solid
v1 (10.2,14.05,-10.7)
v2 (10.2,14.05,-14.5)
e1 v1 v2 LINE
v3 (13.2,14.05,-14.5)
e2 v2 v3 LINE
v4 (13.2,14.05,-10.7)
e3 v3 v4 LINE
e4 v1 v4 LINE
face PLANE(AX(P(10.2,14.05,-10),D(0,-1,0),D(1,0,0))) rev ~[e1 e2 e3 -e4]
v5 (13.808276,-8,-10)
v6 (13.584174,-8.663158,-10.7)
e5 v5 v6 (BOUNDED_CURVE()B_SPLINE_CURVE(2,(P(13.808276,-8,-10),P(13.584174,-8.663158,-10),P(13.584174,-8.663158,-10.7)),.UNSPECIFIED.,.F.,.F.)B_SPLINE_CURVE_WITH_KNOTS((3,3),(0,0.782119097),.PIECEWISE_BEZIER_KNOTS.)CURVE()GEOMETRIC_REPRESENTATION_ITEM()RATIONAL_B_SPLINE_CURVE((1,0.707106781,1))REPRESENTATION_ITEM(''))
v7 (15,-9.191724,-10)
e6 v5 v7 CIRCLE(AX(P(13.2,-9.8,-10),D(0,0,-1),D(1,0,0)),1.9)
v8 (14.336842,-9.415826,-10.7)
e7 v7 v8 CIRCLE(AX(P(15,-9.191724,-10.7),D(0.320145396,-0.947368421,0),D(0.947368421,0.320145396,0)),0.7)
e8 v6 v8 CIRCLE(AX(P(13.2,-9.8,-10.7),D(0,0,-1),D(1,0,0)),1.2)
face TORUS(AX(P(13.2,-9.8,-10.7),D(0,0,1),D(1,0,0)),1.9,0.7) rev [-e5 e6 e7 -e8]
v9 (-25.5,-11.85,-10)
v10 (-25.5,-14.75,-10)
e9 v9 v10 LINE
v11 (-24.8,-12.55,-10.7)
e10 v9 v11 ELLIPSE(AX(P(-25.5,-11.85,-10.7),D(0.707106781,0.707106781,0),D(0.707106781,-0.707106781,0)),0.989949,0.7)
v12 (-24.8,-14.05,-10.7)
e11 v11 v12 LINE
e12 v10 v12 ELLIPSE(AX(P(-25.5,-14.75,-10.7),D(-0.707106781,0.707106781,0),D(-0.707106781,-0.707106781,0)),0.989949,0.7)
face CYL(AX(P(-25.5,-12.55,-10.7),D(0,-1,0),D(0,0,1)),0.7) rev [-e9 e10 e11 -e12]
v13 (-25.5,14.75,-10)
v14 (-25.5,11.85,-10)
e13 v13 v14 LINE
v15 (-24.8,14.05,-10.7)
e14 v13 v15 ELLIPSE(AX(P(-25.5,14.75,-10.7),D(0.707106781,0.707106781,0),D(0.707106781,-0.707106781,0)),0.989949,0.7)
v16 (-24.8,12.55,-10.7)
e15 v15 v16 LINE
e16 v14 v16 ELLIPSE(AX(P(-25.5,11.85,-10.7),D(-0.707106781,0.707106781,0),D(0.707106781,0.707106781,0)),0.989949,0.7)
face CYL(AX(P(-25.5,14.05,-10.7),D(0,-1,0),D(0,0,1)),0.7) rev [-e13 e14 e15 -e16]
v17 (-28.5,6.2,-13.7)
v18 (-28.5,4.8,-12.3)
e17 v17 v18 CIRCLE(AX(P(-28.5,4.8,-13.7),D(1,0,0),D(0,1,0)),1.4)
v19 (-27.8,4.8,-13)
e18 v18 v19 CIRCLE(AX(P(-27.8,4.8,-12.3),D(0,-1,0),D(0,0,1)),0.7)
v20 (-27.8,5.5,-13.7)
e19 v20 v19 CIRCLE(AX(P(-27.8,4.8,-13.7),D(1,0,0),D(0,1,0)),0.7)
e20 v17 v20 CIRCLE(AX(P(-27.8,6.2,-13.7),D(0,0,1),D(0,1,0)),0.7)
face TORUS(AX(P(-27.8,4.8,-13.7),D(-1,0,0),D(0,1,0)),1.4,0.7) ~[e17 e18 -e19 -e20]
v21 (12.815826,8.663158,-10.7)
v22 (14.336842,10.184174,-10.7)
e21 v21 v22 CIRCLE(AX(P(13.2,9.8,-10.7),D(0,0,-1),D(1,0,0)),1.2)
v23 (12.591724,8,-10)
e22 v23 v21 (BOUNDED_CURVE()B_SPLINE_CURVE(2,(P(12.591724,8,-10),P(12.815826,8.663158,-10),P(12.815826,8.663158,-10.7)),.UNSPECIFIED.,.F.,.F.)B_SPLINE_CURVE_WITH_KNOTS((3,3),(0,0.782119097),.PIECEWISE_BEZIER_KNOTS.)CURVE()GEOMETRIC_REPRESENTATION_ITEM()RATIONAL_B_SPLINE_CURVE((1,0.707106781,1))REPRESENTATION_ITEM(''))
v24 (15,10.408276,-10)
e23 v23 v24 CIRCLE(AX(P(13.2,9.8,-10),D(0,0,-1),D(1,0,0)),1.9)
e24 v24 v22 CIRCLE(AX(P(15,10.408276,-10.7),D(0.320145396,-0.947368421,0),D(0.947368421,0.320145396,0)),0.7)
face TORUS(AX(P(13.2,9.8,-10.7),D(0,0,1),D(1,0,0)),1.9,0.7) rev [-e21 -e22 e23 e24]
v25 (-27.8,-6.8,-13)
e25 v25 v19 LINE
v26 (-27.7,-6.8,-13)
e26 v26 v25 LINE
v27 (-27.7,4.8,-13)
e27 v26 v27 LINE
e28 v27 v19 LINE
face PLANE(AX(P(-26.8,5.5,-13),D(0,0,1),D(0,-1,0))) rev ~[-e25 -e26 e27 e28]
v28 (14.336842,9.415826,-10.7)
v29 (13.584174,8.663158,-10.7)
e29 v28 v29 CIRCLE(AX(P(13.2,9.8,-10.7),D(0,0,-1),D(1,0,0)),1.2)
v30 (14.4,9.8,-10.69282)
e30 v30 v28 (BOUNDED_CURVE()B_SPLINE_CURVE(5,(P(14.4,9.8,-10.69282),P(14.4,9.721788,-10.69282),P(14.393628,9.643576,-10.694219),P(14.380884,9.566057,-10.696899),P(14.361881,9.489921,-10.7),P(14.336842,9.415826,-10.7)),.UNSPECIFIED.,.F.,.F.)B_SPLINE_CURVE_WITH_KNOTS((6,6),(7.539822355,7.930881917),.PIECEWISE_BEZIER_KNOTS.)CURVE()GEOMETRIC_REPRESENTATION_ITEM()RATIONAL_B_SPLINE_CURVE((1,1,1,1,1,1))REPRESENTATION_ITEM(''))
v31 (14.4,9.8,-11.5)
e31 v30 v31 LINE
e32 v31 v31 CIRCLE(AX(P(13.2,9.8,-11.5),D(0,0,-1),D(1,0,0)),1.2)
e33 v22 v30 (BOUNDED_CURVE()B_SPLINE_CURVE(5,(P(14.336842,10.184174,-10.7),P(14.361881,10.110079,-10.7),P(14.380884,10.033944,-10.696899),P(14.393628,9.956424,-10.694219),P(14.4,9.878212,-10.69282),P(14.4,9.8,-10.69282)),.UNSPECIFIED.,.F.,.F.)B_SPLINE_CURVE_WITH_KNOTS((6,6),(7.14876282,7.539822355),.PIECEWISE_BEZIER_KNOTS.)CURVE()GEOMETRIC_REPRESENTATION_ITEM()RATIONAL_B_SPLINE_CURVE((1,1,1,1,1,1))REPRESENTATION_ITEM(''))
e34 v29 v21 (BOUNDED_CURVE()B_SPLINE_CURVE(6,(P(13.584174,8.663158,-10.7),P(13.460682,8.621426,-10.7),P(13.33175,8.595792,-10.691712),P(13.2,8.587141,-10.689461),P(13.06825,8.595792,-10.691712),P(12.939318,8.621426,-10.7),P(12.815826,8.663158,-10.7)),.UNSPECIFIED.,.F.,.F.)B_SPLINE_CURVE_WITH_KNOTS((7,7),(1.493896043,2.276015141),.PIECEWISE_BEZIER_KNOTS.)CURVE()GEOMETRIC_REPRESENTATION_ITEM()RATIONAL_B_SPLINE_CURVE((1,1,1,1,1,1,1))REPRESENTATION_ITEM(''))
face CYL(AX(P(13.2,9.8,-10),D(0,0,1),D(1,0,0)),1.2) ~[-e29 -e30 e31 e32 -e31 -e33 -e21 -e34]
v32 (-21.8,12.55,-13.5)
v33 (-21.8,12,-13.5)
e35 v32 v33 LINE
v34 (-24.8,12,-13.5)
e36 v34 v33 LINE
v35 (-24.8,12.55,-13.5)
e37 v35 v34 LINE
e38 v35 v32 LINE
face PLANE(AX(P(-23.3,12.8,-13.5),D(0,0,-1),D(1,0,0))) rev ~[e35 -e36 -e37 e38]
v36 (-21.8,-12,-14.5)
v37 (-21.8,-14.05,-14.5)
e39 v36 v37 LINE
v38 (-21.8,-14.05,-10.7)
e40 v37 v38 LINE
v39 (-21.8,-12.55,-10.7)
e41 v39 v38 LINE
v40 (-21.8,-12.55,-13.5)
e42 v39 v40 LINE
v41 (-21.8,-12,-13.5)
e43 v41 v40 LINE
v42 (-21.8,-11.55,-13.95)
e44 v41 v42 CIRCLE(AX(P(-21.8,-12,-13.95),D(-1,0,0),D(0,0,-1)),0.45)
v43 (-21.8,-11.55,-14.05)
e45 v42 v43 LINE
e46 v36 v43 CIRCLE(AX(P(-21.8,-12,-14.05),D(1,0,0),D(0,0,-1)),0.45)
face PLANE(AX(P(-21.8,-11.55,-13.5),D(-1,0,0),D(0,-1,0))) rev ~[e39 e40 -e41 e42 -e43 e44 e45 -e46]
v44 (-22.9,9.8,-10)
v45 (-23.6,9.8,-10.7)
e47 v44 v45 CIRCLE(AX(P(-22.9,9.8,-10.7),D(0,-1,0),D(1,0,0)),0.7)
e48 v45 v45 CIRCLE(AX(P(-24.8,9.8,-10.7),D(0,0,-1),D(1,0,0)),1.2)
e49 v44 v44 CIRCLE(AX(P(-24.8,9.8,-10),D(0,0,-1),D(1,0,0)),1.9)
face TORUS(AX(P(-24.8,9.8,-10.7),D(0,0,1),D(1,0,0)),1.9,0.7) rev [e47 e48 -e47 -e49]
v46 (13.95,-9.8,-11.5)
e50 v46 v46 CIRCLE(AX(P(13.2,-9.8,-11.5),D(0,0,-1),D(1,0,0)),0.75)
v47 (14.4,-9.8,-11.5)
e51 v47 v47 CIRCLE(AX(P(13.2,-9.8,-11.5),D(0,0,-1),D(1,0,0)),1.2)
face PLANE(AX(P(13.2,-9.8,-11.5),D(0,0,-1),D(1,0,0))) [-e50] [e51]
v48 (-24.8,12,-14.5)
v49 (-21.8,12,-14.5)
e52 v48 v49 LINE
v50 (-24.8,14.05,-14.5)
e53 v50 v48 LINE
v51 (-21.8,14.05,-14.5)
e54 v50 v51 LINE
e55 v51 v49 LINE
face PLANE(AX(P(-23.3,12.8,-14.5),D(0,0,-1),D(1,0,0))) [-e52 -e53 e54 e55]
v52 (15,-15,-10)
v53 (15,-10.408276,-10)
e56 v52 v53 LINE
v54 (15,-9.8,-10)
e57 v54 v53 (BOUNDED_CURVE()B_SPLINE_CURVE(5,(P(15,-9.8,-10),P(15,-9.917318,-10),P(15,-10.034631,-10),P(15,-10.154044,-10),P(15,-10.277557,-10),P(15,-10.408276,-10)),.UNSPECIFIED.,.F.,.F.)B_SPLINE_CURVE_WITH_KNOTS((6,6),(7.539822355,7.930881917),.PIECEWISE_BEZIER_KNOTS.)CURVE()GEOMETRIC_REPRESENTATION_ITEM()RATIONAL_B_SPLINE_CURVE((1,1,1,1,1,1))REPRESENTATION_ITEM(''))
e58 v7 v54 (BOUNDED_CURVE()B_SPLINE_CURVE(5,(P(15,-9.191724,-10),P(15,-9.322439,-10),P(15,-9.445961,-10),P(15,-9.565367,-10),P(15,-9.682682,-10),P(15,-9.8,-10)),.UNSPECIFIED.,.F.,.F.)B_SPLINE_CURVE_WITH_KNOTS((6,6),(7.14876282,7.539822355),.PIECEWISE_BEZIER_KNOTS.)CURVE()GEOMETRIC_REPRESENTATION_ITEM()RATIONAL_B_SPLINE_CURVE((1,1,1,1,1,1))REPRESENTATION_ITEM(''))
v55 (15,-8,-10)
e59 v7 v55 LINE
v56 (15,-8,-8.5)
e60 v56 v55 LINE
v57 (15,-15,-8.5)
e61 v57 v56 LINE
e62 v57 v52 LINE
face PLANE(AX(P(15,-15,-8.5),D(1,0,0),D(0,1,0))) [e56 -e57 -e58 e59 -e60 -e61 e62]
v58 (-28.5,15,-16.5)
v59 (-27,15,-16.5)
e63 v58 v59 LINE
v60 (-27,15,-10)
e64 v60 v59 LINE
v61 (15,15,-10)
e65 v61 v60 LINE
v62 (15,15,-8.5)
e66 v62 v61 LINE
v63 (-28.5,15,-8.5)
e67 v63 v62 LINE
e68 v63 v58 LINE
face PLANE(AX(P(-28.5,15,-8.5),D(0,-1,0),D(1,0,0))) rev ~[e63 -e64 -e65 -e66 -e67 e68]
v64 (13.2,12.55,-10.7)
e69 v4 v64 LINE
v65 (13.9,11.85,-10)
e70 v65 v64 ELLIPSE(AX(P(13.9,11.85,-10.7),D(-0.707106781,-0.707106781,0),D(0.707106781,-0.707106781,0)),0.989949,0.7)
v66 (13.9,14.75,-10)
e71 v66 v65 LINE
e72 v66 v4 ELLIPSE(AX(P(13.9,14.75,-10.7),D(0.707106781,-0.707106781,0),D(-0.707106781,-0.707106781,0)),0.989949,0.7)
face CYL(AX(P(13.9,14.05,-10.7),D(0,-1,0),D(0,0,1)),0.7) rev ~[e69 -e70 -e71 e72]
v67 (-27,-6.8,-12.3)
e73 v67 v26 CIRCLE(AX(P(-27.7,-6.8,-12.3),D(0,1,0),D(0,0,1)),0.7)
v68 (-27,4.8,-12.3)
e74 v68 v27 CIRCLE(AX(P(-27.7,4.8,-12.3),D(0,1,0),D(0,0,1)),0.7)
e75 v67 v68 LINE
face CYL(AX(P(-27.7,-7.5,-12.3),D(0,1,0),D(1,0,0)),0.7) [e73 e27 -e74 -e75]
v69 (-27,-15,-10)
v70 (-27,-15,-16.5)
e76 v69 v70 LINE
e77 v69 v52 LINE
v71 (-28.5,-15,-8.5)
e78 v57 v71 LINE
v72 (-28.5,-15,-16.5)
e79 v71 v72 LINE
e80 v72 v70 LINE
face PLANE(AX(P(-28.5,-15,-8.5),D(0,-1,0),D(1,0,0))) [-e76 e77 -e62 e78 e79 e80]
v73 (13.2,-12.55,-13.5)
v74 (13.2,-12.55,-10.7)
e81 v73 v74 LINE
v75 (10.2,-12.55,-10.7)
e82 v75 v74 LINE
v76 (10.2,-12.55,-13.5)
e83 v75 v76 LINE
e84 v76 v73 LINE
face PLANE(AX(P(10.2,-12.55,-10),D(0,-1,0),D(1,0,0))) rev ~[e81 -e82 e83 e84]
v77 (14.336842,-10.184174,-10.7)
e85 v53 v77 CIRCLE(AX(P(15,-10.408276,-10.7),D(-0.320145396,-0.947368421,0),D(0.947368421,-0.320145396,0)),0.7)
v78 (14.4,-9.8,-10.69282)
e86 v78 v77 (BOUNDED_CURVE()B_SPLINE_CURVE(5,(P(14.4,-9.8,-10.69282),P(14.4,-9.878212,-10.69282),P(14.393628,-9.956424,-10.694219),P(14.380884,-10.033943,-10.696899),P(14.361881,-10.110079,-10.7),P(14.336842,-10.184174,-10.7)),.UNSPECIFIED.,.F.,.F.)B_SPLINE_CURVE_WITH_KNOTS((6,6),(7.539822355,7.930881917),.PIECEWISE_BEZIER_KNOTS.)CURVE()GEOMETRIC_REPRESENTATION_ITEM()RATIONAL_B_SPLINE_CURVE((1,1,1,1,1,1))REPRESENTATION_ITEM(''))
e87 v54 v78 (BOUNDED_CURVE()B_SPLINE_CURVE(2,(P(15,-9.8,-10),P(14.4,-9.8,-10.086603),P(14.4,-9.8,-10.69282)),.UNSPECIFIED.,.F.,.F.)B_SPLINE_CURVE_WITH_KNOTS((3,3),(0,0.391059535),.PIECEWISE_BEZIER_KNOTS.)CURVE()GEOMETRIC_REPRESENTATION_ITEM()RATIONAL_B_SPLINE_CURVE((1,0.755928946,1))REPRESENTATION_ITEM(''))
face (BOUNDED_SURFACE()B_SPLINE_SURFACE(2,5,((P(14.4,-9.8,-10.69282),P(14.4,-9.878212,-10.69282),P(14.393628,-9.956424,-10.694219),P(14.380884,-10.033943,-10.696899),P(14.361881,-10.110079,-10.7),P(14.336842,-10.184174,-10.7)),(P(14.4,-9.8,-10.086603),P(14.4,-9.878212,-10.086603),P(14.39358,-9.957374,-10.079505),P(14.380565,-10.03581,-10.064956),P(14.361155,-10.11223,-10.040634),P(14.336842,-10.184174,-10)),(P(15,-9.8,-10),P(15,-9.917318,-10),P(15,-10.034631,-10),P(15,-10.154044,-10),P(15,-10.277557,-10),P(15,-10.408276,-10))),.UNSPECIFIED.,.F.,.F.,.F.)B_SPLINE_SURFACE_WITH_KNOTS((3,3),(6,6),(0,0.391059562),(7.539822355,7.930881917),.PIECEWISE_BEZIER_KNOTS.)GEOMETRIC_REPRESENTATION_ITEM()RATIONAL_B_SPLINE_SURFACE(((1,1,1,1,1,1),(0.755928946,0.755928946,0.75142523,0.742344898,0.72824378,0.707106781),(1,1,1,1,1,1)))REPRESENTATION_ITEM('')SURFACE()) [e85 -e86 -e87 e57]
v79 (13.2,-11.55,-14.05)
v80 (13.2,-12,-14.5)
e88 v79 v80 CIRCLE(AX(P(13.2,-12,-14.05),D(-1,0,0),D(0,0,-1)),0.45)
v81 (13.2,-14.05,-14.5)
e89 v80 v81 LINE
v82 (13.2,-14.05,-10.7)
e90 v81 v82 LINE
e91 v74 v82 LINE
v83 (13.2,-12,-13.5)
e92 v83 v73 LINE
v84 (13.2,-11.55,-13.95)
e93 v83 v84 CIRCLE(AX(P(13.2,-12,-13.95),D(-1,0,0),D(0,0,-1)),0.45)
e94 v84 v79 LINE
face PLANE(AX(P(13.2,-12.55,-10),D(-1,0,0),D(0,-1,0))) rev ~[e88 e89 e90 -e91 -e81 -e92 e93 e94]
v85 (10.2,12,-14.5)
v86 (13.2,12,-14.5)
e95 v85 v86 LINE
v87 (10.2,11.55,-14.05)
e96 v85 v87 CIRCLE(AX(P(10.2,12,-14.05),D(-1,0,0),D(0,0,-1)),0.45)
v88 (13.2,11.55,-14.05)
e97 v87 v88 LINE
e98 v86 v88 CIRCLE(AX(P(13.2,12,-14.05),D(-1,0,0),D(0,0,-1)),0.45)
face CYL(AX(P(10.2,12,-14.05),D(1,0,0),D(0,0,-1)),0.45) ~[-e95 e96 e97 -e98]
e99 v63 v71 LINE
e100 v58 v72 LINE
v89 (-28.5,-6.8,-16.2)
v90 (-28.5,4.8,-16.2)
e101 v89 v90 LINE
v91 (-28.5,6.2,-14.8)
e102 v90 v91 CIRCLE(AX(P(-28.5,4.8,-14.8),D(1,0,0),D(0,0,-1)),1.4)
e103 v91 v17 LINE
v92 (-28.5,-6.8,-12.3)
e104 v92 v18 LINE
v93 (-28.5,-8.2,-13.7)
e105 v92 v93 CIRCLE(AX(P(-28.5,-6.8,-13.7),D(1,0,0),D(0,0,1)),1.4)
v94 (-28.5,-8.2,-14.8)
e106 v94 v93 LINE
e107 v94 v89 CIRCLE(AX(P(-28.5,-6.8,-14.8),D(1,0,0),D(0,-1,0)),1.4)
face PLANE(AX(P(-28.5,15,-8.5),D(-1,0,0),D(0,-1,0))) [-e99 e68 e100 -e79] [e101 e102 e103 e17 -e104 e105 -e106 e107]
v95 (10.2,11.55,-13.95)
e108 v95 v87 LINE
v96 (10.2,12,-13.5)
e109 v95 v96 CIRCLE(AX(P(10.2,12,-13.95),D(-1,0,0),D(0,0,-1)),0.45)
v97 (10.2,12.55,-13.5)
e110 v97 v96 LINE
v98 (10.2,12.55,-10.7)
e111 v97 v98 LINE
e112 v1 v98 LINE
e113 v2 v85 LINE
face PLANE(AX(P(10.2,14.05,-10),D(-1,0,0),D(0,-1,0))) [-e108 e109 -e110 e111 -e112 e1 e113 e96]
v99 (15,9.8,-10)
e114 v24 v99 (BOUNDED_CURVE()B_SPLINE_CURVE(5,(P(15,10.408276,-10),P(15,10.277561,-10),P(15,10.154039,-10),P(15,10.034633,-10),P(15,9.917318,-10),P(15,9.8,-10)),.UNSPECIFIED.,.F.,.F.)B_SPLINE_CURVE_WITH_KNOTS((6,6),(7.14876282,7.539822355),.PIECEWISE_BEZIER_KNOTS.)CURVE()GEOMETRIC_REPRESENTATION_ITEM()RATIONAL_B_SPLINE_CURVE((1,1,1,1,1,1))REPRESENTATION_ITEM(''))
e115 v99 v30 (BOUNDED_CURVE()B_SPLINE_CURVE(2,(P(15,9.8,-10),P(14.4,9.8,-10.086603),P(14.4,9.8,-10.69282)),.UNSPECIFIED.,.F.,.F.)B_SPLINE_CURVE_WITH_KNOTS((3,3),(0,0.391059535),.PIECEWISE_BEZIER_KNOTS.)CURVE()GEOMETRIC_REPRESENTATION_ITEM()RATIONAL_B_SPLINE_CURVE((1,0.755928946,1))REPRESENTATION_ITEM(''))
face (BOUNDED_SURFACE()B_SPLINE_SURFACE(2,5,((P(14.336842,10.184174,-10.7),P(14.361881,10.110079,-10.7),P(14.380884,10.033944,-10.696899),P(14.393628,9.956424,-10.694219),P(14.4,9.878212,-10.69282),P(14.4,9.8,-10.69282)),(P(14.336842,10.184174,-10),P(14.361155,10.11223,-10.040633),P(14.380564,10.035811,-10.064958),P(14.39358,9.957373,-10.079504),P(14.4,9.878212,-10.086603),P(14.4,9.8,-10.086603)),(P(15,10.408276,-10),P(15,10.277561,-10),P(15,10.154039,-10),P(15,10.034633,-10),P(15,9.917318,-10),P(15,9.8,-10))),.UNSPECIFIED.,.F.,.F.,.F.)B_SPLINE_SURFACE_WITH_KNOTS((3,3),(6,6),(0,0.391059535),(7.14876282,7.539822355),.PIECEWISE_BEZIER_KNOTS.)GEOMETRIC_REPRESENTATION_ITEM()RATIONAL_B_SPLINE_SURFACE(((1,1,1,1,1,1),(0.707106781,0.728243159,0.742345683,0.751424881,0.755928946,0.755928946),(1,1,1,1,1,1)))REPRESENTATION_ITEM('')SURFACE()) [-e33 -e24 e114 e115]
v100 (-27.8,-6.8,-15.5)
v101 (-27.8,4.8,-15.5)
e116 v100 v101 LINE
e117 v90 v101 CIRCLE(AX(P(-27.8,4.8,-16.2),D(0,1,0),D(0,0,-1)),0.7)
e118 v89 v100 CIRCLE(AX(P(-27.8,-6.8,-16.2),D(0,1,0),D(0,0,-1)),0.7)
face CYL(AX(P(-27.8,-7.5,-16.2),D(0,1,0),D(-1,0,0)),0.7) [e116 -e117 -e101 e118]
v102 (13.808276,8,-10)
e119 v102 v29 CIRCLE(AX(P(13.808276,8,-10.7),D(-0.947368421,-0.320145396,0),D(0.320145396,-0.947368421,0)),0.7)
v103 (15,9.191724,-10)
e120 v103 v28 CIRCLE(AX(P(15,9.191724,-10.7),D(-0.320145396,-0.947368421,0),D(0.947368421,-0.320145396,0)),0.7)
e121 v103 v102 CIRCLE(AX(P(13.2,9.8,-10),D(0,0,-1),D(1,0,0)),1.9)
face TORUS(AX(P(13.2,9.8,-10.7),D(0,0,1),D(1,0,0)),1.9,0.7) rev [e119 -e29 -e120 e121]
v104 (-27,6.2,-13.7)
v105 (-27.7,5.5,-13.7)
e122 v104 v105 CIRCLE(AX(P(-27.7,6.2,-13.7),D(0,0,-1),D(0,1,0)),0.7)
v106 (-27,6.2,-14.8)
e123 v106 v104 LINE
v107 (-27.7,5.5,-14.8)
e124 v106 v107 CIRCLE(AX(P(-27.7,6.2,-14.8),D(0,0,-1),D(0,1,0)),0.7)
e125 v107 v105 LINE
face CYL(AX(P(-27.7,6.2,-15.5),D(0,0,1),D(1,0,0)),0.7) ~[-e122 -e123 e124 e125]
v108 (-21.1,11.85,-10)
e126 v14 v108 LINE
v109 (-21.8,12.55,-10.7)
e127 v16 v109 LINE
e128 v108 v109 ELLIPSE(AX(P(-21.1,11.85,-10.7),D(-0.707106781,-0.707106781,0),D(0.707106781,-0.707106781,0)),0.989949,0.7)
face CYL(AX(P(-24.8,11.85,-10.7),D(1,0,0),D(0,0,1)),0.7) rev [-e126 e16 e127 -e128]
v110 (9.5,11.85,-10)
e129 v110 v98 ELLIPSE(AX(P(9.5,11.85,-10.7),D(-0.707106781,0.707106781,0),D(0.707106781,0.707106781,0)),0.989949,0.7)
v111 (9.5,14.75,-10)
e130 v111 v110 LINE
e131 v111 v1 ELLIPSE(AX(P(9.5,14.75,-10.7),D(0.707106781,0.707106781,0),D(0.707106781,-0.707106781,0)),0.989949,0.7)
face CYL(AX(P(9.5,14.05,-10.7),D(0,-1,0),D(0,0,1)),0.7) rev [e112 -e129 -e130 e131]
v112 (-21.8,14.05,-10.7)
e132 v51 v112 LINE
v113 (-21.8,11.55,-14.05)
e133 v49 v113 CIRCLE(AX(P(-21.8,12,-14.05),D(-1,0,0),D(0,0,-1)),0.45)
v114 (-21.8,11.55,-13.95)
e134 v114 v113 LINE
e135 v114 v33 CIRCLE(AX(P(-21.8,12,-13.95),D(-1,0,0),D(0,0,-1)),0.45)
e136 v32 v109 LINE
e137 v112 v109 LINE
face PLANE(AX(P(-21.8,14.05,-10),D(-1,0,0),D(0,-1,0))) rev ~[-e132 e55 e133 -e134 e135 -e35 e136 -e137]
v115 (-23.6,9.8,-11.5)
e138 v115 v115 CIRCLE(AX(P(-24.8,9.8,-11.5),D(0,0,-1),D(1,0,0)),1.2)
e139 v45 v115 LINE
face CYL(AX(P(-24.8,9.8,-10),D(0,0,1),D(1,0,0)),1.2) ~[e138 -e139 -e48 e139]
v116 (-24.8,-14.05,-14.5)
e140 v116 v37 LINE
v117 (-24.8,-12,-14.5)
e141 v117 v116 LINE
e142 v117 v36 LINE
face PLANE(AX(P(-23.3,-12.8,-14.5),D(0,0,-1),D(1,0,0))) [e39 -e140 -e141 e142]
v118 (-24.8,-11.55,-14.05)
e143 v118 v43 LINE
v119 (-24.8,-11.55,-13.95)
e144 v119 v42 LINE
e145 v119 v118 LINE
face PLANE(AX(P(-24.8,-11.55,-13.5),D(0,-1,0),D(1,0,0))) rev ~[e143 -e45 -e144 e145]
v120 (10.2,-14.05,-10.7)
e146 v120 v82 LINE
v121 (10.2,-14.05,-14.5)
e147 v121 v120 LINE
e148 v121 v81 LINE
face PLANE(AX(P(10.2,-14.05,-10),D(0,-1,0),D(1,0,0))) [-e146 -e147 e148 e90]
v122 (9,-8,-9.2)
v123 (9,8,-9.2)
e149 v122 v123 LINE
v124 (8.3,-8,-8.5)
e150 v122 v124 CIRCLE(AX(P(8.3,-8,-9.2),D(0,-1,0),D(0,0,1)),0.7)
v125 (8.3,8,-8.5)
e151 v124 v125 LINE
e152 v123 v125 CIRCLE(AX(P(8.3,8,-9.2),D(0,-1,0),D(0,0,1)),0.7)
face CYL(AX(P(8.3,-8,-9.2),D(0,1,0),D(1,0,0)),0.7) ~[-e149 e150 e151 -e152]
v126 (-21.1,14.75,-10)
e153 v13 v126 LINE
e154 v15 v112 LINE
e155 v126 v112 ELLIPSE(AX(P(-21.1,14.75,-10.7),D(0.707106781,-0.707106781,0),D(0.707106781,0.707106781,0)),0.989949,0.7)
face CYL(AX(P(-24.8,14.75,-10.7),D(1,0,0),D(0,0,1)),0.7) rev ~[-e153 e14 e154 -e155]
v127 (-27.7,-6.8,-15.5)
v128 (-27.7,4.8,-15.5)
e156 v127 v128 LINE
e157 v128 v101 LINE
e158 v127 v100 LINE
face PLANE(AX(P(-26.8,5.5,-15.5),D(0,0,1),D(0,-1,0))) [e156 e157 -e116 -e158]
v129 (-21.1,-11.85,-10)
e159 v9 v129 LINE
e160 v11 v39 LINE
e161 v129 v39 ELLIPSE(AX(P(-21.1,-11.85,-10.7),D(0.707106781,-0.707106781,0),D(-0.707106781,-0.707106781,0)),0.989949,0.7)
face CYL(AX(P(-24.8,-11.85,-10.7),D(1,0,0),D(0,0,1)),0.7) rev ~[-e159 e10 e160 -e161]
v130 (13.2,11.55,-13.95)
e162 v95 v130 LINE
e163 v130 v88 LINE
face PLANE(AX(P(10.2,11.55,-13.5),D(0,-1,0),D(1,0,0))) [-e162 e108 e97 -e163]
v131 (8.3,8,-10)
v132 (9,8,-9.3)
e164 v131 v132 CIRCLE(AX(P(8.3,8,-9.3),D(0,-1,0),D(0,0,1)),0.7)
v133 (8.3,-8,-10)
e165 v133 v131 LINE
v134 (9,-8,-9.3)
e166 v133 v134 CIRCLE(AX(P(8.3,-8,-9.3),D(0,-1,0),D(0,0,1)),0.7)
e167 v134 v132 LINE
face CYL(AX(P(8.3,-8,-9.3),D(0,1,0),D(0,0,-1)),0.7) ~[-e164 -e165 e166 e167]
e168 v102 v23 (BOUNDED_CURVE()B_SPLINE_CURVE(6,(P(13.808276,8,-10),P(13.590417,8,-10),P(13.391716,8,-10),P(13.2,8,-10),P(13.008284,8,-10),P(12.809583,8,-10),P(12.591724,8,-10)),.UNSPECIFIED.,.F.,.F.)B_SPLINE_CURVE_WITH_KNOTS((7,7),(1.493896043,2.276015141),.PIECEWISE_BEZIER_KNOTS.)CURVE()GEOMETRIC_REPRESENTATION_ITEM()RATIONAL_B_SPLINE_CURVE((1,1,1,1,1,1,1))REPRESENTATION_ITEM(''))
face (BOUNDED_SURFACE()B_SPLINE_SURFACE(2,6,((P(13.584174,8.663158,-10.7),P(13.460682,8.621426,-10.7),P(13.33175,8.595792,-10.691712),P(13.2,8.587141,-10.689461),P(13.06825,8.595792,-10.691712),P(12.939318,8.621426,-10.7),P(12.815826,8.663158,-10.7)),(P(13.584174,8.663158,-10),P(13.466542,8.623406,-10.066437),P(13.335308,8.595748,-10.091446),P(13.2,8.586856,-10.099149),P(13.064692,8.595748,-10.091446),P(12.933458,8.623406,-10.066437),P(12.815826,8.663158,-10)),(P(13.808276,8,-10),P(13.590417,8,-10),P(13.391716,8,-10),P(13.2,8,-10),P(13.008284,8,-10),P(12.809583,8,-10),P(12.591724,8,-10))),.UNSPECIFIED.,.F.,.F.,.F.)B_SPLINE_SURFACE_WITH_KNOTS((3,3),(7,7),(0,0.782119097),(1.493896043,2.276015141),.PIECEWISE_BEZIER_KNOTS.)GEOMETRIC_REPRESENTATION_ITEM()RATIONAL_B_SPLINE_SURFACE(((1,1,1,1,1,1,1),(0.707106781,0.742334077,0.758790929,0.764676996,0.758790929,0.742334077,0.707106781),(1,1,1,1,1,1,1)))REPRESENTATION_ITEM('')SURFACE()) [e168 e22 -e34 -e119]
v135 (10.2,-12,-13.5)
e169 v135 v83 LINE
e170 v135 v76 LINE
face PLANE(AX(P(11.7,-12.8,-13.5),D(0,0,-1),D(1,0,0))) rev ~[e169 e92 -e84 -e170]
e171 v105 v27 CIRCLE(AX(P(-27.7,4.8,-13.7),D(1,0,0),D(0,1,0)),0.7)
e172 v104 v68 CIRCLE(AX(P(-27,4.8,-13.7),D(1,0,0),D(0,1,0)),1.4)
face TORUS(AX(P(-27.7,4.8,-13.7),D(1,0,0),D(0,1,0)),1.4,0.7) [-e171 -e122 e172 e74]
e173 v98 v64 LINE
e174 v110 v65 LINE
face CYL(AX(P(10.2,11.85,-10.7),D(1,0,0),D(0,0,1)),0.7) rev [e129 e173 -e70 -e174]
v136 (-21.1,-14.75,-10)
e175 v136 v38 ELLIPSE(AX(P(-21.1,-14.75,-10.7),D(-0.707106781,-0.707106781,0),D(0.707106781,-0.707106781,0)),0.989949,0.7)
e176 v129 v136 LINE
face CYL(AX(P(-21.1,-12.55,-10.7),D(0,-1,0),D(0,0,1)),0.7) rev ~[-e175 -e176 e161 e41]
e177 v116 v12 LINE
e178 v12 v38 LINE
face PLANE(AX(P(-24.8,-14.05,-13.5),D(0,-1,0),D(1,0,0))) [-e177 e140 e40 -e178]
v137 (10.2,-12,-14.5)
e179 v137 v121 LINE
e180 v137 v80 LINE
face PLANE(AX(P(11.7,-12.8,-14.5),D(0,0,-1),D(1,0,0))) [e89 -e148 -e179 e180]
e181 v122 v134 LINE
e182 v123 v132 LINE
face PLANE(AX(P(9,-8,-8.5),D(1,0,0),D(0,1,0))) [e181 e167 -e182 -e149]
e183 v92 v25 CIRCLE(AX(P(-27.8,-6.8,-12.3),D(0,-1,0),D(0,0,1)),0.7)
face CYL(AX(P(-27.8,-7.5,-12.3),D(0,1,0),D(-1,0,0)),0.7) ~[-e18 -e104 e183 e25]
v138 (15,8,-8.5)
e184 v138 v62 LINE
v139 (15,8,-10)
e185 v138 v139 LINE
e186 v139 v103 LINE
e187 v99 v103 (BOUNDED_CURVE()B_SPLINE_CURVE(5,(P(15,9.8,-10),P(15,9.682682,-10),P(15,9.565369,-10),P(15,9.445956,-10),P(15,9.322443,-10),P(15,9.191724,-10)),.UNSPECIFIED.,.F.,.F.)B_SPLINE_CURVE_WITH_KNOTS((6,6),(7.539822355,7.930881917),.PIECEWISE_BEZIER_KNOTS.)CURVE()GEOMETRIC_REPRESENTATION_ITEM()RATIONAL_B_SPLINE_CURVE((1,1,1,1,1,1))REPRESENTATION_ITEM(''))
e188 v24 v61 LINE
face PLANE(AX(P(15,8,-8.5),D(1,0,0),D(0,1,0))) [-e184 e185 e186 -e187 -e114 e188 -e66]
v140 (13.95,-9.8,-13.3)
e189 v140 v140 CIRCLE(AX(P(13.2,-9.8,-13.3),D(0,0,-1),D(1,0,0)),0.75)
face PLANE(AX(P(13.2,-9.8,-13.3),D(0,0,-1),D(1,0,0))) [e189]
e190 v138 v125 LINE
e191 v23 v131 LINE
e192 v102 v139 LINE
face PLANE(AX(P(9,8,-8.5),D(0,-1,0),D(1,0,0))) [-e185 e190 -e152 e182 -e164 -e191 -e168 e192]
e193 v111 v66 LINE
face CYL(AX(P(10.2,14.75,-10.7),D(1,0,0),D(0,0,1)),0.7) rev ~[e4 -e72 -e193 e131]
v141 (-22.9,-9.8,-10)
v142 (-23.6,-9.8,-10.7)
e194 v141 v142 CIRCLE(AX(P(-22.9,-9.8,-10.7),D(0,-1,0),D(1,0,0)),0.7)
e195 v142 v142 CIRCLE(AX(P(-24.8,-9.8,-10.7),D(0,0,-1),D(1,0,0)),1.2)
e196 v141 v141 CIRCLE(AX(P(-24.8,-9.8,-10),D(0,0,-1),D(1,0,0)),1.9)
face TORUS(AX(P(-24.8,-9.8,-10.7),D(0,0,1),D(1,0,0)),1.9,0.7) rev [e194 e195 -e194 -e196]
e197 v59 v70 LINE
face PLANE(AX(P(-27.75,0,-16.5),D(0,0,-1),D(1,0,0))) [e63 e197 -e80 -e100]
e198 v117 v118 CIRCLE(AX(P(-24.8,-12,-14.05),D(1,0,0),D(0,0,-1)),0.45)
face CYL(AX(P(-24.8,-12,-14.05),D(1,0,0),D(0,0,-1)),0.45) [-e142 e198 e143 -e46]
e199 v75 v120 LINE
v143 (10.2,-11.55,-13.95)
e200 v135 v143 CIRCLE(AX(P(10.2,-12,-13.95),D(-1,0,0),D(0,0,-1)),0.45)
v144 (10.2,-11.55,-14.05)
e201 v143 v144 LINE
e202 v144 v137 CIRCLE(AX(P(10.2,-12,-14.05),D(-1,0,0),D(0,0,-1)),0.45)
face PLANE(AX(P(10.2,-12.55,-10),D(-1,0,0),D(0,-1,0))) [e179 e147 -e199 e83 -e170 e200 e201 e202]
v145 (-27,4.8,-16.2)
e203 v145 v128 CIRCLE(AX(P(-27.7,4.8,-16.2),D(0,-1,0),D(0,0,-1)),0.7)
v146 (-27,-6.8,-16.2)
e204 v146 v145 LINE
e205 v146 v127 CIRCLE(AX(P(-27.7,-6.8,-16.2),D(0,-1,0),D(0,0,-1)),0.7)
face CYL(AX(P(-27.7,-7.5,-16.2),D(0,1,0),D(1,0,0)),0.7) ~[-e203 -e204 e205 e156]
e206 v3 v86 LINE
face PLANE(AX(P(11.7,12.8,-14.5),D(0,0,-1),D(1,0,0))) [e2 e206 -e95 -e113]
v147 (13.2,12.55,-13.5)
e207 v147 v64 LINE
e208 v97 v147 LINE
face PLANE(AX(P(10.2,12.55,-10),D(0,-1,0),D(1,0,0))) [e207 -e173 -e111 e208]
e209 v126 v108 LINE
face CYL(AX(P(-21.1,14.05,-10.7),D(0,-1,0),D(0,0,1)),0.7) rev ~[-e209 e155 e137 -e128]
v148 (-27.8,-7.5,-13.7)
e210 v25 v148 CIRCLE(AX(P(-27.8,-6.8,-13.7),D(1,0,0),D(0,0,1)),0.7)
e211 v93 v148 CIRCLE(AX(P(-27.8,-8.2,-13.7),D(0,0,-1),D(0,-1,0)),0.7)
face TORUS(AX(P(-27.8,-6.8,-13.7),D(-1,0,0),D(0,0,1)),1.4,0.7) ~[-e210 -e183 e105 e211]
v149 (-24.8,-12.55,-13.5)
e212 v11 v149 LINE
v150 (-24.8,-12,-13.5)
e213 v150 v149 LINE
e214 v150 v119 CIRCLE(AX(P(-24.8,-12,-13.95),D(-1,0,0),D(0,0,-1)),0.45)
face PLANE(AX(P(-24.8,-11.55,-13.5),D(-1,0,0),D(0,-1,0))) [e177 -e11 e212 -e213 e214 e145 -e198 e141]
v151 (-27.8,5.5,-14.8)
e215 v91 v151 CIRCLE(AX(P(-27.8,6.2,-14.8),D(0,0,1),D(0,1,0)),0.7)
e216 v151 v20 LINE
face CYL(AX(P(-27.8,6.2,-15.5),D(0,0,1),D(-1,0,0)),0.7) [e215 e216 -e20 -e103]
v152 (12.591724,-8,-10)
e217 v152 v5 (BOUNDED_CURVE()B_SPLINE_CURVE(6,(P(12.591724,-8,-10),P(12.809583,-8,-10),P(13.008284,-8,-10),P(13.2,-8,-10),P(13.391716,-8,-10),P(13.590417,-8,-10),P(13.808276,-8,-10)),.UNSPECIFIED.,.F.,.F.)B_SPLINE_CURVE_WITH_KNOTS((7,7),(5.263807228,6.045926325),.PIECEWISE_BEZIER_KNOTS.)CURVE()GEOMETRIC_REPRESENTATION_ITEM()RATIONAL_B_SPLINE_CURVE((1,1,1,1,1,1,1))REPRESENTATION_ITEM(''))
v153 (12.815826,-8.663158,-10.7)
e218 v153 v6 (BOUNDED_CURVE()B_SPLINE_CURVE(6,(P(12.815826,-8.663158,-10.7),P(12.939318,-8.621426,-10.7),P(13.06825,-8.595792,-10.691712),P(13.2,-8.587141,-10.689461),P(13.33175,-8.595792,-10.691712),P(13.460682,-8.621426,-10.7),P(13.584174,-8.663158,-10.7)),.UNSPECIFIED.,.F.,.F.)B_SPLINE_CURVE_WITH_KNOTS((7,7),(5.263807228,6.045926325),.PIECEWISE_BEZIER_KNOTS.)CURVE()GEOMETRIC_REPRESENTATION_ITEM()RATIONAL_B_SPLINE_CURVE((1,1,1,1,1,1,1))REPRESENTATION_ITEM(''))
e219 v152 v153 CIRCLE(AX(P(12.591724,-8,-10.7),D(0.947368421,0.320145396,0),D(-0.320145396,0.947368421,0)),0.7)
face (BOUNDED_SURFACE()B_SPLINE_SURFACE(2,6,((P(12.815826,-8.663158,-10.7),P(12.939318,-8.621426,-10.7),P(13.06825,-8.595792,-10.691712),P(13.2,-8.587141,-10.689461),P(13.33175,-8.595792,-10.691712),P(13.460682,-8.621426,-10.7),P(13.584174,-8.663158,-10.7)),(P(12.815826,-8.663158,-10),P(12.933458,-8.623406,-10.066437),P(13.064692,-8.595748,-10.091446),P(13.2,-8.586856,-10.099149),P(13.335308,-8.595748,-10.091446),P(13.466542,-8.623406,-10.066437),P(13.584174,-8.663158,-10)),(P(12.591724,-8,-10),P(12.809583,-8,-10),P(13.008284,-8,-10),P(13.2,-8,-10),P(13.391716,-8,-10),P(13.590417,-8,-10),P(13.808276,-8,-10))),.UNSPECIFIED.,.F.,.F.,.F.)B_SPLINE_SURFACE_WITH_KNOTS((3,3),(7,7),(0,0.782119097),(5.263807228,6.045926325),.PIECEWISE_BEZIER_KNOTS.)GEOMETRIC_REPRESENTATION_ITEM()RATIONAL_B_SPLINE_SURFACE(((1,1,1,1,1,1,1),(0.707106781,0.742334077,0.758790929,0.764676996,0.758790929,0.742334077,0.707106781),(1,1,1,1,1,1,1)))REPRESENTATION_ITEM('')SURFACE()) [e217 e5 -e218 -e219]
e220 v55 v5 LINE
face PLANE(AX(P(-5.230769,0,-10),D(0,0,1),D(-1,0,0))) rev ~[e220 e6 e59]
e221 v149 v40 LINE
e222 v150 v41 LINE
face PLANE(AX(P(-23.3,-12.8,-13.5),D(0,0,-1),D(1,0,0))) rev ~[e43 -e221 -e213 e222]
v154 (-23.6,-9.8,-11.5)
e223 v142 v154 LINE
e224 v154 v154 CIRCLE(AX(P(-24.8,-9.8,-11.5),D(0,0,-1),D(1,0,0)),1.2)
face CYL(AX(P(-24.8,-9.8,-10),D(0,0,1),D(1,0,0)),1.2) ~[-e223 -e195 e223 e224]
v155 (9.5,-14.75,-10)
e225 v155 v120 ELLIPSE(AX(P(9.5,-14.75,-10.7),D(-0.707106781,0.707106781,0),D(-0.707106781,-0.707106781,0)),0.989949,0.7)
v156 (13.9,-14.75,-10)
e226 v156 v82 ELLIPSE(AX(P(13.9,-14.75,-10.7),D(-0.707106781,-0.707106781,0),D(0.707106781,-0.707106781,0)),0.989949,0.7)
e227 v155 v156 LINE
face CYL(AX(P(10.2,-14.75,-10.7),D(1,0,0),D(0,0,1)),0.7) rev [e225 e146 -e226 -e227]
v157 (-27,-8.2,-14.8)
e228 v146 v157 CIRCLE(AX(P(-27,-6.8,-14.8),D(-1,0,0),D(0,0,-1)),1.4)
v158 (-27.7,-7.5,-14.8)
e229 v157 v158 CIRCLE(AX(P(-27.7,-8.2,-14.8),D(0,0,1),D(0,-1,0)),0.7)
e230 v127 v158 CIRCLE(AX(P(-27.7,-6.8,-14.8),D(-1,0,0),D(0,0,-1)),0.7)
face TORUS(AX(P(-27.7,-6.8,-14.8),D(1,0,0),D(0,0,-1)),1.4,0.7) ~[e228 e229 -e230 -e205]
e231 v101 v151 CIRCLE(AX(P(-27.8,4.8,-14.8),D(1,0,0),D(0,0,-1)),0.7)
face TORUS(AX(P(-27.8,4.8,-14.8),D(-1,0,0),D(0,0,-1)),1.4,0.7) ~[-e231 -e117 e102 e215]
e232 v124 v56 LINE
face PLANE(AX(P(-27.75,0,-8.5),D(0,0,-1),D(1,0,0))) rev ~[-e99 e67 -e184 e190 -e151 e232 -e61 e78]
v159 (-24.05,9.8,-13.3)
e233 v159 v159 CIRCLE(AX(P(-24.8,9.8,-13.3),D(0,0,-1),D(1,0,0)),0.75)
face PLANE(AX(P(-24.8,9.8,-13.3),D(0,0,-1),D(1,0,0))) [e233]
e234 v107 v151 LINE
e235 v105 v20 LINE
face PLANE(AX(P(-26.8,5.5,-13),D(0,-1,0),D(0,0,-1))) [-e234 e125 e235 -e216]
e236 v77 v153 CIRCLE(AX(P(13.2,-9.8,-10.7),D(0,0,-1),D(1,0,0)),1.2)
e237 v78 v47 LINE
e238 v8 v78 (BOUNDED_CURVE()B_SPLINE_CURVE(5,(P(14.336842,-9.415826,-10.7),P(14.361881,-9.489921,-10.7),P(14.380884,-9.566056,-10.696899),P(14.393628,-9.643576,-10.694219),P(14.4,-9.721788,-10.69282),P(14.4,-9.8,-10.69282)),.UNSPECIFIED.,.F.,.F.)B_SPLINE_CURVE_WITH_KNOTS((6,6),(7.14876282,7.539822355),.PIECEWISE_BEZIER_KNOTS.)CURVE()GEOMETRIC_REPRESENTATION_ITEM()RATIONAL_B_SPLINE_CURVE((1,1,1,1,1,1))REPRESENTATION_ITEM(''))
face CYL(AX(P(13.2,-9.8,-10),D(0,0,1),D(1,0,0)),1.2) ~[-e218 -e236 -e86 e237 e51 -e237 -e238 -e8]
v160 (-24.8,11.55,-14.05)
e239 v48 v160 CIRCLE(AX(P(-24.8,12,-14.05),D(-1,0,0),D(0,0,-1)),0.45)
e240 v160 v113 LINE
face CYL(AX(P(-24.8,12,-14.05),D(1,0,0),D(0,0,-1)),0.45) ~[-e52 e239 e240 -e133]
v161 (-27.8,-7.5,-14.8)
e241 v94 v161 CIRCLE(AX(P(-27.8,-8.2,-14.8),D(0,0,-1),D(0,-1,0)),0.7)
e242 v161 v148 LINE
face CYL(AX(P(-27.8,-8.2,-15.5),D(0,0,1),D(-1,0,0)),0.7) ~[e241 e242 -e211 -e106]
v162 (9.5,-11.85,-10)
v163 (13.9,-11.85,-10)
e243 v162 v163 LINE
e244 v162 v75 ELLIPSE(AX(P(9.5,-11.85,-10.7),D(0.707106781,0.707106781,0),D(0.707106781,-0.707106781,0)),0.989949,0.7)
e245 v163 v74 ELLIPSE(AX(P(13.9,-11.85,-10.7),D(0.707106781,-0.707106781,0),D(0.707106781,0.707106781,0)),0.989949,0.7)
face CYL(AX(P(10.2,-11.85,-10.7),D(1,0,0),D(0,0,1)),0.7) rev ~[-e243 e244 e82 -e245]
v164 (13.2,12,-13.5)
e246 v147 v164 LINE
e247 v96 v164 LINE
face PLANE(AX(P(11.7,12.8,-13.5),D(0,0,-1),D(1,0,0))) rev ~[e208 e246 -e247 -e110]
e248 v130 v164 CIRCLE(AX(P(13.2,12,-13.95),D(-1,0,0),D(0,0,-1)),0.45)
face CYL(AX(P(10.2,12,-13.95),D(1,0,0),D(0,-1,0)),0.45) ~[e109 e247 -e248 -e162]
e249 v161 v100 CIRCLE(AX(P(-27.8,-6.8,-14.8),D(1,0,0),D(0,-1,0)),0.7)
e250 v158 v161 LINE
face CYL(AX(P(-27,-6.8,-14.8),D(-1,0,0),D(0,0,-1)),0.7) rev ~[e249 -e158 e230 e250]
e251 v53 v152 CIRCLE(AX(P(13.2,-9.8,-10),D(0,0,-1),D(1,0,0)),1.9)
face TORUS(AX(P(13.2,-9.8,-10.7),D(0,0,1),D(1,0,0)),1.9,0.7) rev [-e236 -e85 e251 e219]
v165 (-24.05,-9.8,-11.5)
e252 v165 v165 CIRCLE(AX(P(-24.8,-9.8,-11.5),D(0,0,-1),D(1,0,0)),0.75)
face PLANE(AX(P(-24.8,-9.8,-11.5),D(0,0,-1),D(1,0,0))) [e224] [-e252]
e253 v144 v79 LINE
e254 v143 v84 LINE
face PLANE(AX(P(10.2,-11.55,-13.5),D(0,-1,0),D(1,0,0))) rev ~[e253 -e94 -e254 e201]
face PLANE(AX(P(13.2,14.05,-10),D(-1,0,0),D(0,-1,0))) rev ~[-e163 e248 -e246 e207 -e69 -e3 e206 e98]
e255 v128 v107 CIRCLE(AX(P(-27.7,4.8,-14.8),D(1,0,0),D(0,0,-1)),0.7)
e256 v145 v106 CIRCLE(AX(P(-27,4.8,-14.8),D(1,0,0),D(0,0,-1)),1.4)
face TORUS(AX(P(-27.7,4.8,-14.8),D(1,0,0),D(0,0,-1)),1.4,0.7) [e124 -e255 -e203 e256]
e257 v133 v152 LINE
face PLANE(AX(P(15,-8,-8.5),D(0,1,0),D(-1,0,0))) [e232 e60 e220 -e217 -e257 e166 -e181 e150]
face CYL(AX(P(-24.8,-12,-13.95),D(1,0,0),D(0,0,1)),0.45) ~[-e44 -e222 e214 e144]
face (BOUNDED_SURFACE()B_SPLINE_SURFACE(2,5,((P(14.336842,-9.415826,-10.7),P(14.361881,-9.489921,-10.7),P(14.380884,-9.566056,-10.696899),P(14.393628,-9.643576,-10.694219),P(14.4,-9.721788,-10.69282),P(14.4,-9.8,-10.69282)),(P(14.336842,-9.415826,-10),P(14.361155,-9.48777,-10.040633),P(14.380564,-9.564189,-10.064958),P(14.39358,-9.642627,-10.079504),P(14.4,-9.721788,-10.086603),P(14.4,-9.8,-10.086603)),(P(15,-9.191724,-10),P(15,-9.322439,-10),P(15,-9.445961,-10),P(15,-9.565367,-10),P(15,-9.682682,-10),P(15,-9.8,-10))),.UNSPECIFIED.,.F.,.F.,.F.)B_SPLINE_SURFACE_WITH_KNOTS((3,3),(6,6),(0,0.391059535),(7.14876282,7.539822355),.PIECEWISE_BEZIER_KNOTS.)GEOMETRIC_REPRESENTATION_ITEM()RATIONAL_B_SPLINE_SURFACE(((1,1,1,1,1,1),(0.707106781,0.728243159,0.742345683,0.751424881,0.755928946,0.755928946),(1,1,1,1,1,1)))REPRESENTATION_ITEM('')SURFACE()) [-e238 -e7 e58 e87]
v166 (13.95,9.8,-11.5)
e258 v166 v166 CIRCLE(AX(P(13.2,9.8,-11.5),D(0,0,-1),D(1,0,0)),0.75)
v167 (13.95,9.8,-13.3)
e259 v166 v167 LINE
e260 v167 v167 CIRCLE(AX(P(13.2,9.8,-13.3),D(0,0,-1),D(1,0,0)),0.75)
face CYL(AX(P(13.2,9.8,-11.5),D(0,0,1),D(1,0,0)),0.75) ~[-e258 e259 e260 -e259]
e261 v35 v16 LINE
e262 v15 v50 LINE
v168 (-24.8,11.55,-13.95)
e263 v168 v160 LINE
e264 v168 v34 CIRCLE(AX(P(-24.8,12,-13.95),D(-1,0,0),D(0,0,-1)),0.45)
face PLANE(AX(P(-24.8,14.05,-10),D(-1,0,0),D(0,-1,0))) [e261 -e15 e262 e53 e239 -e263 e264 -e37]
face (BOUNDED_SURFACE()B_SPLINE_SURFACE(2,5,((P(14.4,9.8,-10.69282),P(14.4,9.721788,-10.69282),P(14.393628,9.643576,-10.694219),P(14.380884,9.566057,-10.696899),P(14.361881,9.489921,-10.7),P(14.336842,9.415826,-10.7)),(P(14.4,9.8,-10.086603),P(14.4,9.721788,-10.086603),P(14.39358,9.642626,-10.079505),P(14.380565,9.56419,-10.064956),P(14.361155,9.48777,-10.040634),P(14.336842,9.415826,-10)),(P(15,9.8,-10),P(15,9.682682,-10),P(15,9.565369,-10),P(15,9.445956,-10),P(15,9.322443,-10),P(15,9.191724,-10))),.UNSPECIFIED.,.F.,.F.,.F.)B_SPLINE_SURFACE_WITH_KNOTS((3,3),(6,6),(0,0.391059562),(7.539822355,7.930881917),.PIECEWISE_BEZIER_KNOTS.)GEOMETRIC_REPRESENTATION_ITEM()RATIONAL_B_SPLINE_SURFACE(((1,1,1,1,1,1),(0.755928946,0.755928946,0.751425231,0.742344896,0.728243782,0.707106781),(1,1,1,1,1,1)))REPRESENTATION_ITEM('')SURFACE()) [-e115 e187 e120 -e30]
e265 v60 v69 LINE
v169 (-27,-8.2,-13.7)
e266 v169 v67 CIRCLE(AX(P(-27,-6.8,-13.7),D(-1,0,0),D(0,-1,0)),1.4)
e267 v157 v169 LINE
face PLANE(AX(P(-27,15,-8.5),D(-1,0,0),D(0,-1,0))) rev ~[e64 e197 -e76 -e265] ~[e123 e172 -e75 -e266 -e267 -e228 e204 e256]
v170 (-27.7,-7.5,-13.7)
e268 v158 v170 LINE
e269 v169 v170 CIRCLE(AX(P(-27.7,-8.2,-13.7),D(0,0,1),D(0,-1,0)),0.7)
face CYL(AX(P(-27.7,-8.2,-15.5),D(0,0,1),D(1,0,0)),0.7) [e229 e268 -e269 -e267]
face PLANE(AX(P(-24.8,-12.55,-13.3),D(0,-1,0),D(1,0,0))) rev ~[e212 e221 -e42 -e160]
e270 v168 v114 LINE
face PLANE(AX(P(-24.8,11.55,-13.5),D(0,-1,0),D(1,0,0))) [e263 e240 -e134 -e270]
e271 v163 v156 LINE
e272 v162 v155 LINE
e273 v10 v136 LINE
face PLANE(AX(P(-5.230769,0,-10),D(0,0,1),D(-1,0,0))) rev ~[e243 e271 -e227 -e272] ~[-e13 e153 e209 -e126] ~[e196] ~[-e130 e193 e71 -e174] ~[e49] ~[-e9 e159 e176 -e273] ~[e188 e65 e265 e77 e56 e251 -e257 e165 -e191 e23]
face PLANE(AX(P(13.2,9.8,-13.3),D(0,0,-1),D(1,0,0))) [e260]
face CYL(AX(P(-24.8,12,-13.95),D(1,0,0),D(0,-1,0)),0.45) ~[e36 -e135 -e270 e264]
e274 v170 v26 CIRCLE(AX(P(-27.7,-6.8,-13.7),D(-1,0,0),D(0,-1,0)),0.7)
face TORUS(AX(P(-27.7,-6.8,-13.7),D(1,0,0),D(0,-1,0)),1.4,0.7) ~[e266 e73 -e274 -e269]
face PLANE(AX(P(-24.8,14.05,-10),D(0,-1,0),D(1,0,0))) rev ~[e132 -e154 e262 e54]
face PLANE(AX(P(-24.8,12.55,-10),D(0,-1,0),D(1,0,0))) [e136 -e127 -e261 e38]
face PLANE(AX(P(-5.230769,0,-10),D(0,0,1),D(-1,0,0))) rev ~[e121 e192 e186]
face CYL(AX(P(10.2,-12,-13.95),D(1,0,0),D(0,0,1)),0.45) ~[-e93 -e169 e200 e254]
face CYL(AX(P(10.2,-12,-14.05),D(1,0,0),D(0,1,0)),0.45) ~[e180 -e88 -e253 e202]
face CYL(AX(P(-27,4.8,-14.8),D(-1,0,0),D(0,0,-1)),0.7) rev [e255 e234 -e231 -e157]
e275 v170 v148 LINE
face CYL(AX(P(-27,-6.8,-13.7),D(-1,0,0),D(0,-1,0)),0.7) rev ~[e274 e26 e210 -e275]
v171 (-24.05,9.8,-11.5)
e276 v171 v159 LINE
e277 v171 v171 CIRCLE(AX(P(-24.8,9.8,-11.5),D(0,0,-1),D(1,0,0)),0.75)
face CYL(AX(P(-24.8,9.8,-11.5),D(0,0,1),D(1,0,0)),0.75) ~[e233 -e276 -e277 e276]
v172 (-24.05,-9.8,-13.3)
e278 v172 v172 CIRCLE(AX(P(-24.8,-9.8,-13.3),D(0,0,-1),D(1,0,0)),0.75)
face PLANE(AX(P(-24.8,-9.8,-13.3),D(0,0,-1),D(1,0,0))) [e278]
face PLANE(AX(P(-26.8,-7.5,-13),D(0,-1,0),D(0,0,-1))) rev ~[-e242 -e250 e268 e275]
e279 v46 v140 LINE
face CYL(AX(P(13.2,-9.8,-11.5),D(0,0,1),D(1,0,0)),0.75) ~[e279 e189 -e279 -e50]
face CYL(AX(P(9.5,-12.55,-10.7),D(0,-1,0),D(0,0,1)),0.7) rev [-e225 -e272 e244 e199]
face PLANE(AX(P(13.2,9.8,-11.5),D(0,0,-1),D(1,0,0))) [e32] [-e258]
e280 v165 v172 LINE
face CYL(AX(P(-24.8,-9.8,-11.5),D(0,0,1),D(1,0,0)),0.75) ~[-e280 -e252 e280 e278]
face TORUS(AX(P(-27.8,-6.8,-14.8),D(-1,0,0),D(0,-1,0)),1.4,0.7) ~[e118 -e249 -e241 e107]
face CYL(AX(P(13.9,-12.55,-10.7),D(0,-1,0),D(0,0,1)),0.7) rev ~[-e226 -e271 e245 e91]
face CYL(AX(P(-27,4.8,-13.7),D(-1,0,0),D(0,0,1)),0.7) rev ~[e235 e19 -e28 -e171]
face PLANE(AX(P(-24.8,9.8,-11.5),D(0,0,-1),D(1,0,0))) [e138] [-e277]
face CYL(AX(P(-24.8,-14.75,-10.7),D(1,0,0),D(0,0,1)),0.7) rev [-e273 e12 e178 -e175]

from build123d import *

# Parameters (mm, degrees)
PAD009_DEPTH            = 1.5
SKETCH020_R             = 1.2
SKETCH020_W             = 3
SKETCH020_H             = 1.5
PAD010_DEPTH            = 1.5
SKETCH018_R             = 0.75
SKETCH018_W             = 3
SKETCH018_H             = 1.5
PAD011_DEPTH            = 1.8
SKETCH022_W             = 3
SKETCH022_H             = 1.5
PAD013_DEPTH            = 0.2
SKETCH021_W             = 3
SKETCH021_H             = 2.5
PAD012_DEPTH            = 1
FILLET003_R             = 0.45
SKETCH024_W             = 1.5
SKETCH024_H             = 30
PAD014_DEPTH            = 8
SKETCH023_W             = 13
SKETCH023_H             = 2.5
POCKET005_DEPTH         = 5
FILLET005_R             = 0.7
FILLET006_R             = 0.7
FILLET010_R             = 0.7
BODY003_PLACEMENT_ANGLE = 180


with BuildPart() as part:
    # Sketch019 → Pad009 (new body)
    with BuildSketch(Plane.XY):
        Polygon((-21.2, 15), (20.8, 15), (20.8, 8), (14.8, 8), (14.8, -8), (20.8, -8), (20.8, -15), (-21.2, -15), align=None)
    extrude(amount=PAD009_DEPTH)

    # Sketch020 → Pad010 (join)
    with BuildSketch(Plane.XY.offset(1.5)):
        with Locations((-19, 9.8)):
            Circle(SKETCH020_R)
        with Locations((-19, -9.8)):
            Circle(SKETCH020_R)
        with Locations((19, -9.8)):
            Circle(SKETCH020_R)
        with Locations((19, 9.8)):
            Circle(SKETCH020_R)
        with Locations((-17.5, 13.3)):
            Rectangle(SKETCH020_W, SKETCH020_H)
        with Locations((17.5, 13.3)):
            Rectangle(SKETCH020_W, SKETCH020_H)
        with Locations((17.5, -13.3)):
            Rectangle(SKETCH020_W, SKETCH020_H)
        with Locations((-17.5, -13.3)):
            Rectangle(SKETCH020_W, SKETCH020_H)
    extrude(amount=PAD010_DEPTH)

    # Sketch018 → Pad011 (join)
    with BuildSketch(Plane.XY.offset(3)):
        with Locations((-19, 9.8)):
            Circle(SKETCH018_R)
        with Locations((19, 9.8)):
            Circle(SKETCH018_R)
        with Locations((19, -9.8)):
            Circle(SKETCH018_R)
        with Locations((-19, -9.8)):
            Circle(SKETCH018_R)
        with Locations((-17.5, 13.3)):
            Rectangle(SKETCH018_W, SKETCH018_H)
        with Locations((17.5, 13.3)):
            Rectangle(SKETCH018_W, SKETCH018_H)
        with Locations((17.5, -13.3)):
            Rectangle(SKETCH018_W, SKETCH018_H)
        with Locations((-17.5, -13.3)):
            Rectangle(SKETCH018_W, SKETCH018_H)
    extrude(amount=PAD011_DEPTH)

    # Sketch022 → Pad013 (join)
    with BuildSketch(Plane.XY.offset(4.8)):
        with Locations((-17.5, 13.3)):
            Rectangle(SKETCH022_W, SKETCH022_H)
        with Locations((17.5, 13.3)):
            Rectangle(SKETCH022_W, SKETCH022_H)
        with Locations((17.5, -13.3)):
            Rectangle(SKETCH022_W, SKETCH022_H)
        with Locations((-17.5, -13.3)):
            Rectangle(SKETCH022_W, SKETCH022_H)
    extrude(amount=PAD013_DEPTH)

    # Sketch021 → Pad012 (join)
    with BuildSketch(Plane.XY.offset(5)):
        with Locations((-17.5, 12.8)):
            Rectangle(SKETCH021_W, SKETCH021_H)
        with Locations((17.5, 12.8)):
            Rectangle(SKETCH021_W, SKETCH021_H)
        with Locations((17.5, -12.8)):
            Rectangle(SKETCH021_W, SKETCH021_H)
        with Locations((-17.5, -12.8)):
            Rectangle(SKETCH021_W, SKETCH021_H)
    extrude(amount=PAD012_DEPTH)

    # Fillet003
    fillet003_edges = [part.edges().sort_by_distance(p)[0] for p in [
        (-17.5, 11.55, 6),
        (-17.5, 11.55, 5),
        (17.5, 11.55, 6),
        (17.5, 11.55, 5),
        (17.5, -11.55, 5),
        (17.5, -11.55, 6),
        (-17.5, -11.55, 5),
        (-17.5, -11.55, 6),
    ]]
    fillet(fillet003_edges, radius=FILLET003_R)

    # Sketch024 → Pad014 (join)
    with BuildSketch(Plane.XY):
        with Locations((-21.95, 0)):
            Rectangle(SKETCH024_W, SKETCH024_H)
    extrude(amount=PAD014_DEPTH)

    # Sketch023 → Pocket005 (cut)
    with BuildSketch(Plane.YZ.offset(-21)):
        with Locations((1, 5.75)):
            Rectangle(SKETCH023_W, SKETCH023_H)
    extrude(amount=-POCKET005_DEPTH, mode=Mode.SUBTRACT)

    # Fillet005
    fillet005_edges = [part.edges().sort_by_distance(p)[0] for p in [
        (-17.5, -14.05, 1.5),
        (-16, -13.3, 1.5),
        (-17.5, -12.55, 1.5),
        (-20.2, -9.8, 1.5),
        (-19, -13.3, 1.5),
        (-20.2, 9.8, 1.5),
        (-16, 13.3, 1.5),
        (-19, 13.3, 1.5),
        (-17.5, 14.05, 1.5),
        (-17.5, 12.55, 1.5),
        (17.8, -9.8, 1.5),
        (17.5, -12.55, 1.5),
        (19, -13.3, 1.5),
        (17.5, -14.05, 1.5),
        (16, -13.3, 1.5),
        (17.8, 9.8, 1.5),
        (17.5, 12.55, 1.5),
        (16, 13.3, 1.5),
        (19, 13.3, 1.5),
        (17.5, 14.05, 1.5),
    ]]
    fillet(fillet005_edges, radius=FILLET005_R)

    # Fillet006
    fillet006_edges = [part.edges().sort_by_distance(p)[0] for p in [
        (-21.2, 1, 4.5),
        (-21.95, 7.5, 4.5),
        (-22.7, 1, 4.5),
        (-21.95, -5.5, 4.5),
        (-21.2, 7.5, 5.75),
        (-21.95, 7.5, 7),
        (-22.7, 7.5, 5.75),
        (-21.2, -5.5, 5.75),
        (-22.7, -5.5, 5.75),
        (-21.95, -5.5, 7),
        (-21.2, 1, 7),
        (-22.7, 1, 7),
    ]]
    fillet(fillet006_edges, radius=FILLET006_R)

    # Fillet010
    fillet010_edges = [part.edges().sort_by_distance(p)[0] for p in [
        (14.8, 0, 1.5),
        (14.8, 0, 0),
    ]]
    fillet(fillet010_edges, radius=FILLET010_R)


with BuildPart() as part_1:
    # Body003 placement: moved
    add(part.part.moved(Location((-5.8, 0, -8.5))).rotate(Axis((-5.8, 0, -8.5), (1, 0, 0)), BODY003_PLACEMENT_ANGLE))


solid = part_1.part
